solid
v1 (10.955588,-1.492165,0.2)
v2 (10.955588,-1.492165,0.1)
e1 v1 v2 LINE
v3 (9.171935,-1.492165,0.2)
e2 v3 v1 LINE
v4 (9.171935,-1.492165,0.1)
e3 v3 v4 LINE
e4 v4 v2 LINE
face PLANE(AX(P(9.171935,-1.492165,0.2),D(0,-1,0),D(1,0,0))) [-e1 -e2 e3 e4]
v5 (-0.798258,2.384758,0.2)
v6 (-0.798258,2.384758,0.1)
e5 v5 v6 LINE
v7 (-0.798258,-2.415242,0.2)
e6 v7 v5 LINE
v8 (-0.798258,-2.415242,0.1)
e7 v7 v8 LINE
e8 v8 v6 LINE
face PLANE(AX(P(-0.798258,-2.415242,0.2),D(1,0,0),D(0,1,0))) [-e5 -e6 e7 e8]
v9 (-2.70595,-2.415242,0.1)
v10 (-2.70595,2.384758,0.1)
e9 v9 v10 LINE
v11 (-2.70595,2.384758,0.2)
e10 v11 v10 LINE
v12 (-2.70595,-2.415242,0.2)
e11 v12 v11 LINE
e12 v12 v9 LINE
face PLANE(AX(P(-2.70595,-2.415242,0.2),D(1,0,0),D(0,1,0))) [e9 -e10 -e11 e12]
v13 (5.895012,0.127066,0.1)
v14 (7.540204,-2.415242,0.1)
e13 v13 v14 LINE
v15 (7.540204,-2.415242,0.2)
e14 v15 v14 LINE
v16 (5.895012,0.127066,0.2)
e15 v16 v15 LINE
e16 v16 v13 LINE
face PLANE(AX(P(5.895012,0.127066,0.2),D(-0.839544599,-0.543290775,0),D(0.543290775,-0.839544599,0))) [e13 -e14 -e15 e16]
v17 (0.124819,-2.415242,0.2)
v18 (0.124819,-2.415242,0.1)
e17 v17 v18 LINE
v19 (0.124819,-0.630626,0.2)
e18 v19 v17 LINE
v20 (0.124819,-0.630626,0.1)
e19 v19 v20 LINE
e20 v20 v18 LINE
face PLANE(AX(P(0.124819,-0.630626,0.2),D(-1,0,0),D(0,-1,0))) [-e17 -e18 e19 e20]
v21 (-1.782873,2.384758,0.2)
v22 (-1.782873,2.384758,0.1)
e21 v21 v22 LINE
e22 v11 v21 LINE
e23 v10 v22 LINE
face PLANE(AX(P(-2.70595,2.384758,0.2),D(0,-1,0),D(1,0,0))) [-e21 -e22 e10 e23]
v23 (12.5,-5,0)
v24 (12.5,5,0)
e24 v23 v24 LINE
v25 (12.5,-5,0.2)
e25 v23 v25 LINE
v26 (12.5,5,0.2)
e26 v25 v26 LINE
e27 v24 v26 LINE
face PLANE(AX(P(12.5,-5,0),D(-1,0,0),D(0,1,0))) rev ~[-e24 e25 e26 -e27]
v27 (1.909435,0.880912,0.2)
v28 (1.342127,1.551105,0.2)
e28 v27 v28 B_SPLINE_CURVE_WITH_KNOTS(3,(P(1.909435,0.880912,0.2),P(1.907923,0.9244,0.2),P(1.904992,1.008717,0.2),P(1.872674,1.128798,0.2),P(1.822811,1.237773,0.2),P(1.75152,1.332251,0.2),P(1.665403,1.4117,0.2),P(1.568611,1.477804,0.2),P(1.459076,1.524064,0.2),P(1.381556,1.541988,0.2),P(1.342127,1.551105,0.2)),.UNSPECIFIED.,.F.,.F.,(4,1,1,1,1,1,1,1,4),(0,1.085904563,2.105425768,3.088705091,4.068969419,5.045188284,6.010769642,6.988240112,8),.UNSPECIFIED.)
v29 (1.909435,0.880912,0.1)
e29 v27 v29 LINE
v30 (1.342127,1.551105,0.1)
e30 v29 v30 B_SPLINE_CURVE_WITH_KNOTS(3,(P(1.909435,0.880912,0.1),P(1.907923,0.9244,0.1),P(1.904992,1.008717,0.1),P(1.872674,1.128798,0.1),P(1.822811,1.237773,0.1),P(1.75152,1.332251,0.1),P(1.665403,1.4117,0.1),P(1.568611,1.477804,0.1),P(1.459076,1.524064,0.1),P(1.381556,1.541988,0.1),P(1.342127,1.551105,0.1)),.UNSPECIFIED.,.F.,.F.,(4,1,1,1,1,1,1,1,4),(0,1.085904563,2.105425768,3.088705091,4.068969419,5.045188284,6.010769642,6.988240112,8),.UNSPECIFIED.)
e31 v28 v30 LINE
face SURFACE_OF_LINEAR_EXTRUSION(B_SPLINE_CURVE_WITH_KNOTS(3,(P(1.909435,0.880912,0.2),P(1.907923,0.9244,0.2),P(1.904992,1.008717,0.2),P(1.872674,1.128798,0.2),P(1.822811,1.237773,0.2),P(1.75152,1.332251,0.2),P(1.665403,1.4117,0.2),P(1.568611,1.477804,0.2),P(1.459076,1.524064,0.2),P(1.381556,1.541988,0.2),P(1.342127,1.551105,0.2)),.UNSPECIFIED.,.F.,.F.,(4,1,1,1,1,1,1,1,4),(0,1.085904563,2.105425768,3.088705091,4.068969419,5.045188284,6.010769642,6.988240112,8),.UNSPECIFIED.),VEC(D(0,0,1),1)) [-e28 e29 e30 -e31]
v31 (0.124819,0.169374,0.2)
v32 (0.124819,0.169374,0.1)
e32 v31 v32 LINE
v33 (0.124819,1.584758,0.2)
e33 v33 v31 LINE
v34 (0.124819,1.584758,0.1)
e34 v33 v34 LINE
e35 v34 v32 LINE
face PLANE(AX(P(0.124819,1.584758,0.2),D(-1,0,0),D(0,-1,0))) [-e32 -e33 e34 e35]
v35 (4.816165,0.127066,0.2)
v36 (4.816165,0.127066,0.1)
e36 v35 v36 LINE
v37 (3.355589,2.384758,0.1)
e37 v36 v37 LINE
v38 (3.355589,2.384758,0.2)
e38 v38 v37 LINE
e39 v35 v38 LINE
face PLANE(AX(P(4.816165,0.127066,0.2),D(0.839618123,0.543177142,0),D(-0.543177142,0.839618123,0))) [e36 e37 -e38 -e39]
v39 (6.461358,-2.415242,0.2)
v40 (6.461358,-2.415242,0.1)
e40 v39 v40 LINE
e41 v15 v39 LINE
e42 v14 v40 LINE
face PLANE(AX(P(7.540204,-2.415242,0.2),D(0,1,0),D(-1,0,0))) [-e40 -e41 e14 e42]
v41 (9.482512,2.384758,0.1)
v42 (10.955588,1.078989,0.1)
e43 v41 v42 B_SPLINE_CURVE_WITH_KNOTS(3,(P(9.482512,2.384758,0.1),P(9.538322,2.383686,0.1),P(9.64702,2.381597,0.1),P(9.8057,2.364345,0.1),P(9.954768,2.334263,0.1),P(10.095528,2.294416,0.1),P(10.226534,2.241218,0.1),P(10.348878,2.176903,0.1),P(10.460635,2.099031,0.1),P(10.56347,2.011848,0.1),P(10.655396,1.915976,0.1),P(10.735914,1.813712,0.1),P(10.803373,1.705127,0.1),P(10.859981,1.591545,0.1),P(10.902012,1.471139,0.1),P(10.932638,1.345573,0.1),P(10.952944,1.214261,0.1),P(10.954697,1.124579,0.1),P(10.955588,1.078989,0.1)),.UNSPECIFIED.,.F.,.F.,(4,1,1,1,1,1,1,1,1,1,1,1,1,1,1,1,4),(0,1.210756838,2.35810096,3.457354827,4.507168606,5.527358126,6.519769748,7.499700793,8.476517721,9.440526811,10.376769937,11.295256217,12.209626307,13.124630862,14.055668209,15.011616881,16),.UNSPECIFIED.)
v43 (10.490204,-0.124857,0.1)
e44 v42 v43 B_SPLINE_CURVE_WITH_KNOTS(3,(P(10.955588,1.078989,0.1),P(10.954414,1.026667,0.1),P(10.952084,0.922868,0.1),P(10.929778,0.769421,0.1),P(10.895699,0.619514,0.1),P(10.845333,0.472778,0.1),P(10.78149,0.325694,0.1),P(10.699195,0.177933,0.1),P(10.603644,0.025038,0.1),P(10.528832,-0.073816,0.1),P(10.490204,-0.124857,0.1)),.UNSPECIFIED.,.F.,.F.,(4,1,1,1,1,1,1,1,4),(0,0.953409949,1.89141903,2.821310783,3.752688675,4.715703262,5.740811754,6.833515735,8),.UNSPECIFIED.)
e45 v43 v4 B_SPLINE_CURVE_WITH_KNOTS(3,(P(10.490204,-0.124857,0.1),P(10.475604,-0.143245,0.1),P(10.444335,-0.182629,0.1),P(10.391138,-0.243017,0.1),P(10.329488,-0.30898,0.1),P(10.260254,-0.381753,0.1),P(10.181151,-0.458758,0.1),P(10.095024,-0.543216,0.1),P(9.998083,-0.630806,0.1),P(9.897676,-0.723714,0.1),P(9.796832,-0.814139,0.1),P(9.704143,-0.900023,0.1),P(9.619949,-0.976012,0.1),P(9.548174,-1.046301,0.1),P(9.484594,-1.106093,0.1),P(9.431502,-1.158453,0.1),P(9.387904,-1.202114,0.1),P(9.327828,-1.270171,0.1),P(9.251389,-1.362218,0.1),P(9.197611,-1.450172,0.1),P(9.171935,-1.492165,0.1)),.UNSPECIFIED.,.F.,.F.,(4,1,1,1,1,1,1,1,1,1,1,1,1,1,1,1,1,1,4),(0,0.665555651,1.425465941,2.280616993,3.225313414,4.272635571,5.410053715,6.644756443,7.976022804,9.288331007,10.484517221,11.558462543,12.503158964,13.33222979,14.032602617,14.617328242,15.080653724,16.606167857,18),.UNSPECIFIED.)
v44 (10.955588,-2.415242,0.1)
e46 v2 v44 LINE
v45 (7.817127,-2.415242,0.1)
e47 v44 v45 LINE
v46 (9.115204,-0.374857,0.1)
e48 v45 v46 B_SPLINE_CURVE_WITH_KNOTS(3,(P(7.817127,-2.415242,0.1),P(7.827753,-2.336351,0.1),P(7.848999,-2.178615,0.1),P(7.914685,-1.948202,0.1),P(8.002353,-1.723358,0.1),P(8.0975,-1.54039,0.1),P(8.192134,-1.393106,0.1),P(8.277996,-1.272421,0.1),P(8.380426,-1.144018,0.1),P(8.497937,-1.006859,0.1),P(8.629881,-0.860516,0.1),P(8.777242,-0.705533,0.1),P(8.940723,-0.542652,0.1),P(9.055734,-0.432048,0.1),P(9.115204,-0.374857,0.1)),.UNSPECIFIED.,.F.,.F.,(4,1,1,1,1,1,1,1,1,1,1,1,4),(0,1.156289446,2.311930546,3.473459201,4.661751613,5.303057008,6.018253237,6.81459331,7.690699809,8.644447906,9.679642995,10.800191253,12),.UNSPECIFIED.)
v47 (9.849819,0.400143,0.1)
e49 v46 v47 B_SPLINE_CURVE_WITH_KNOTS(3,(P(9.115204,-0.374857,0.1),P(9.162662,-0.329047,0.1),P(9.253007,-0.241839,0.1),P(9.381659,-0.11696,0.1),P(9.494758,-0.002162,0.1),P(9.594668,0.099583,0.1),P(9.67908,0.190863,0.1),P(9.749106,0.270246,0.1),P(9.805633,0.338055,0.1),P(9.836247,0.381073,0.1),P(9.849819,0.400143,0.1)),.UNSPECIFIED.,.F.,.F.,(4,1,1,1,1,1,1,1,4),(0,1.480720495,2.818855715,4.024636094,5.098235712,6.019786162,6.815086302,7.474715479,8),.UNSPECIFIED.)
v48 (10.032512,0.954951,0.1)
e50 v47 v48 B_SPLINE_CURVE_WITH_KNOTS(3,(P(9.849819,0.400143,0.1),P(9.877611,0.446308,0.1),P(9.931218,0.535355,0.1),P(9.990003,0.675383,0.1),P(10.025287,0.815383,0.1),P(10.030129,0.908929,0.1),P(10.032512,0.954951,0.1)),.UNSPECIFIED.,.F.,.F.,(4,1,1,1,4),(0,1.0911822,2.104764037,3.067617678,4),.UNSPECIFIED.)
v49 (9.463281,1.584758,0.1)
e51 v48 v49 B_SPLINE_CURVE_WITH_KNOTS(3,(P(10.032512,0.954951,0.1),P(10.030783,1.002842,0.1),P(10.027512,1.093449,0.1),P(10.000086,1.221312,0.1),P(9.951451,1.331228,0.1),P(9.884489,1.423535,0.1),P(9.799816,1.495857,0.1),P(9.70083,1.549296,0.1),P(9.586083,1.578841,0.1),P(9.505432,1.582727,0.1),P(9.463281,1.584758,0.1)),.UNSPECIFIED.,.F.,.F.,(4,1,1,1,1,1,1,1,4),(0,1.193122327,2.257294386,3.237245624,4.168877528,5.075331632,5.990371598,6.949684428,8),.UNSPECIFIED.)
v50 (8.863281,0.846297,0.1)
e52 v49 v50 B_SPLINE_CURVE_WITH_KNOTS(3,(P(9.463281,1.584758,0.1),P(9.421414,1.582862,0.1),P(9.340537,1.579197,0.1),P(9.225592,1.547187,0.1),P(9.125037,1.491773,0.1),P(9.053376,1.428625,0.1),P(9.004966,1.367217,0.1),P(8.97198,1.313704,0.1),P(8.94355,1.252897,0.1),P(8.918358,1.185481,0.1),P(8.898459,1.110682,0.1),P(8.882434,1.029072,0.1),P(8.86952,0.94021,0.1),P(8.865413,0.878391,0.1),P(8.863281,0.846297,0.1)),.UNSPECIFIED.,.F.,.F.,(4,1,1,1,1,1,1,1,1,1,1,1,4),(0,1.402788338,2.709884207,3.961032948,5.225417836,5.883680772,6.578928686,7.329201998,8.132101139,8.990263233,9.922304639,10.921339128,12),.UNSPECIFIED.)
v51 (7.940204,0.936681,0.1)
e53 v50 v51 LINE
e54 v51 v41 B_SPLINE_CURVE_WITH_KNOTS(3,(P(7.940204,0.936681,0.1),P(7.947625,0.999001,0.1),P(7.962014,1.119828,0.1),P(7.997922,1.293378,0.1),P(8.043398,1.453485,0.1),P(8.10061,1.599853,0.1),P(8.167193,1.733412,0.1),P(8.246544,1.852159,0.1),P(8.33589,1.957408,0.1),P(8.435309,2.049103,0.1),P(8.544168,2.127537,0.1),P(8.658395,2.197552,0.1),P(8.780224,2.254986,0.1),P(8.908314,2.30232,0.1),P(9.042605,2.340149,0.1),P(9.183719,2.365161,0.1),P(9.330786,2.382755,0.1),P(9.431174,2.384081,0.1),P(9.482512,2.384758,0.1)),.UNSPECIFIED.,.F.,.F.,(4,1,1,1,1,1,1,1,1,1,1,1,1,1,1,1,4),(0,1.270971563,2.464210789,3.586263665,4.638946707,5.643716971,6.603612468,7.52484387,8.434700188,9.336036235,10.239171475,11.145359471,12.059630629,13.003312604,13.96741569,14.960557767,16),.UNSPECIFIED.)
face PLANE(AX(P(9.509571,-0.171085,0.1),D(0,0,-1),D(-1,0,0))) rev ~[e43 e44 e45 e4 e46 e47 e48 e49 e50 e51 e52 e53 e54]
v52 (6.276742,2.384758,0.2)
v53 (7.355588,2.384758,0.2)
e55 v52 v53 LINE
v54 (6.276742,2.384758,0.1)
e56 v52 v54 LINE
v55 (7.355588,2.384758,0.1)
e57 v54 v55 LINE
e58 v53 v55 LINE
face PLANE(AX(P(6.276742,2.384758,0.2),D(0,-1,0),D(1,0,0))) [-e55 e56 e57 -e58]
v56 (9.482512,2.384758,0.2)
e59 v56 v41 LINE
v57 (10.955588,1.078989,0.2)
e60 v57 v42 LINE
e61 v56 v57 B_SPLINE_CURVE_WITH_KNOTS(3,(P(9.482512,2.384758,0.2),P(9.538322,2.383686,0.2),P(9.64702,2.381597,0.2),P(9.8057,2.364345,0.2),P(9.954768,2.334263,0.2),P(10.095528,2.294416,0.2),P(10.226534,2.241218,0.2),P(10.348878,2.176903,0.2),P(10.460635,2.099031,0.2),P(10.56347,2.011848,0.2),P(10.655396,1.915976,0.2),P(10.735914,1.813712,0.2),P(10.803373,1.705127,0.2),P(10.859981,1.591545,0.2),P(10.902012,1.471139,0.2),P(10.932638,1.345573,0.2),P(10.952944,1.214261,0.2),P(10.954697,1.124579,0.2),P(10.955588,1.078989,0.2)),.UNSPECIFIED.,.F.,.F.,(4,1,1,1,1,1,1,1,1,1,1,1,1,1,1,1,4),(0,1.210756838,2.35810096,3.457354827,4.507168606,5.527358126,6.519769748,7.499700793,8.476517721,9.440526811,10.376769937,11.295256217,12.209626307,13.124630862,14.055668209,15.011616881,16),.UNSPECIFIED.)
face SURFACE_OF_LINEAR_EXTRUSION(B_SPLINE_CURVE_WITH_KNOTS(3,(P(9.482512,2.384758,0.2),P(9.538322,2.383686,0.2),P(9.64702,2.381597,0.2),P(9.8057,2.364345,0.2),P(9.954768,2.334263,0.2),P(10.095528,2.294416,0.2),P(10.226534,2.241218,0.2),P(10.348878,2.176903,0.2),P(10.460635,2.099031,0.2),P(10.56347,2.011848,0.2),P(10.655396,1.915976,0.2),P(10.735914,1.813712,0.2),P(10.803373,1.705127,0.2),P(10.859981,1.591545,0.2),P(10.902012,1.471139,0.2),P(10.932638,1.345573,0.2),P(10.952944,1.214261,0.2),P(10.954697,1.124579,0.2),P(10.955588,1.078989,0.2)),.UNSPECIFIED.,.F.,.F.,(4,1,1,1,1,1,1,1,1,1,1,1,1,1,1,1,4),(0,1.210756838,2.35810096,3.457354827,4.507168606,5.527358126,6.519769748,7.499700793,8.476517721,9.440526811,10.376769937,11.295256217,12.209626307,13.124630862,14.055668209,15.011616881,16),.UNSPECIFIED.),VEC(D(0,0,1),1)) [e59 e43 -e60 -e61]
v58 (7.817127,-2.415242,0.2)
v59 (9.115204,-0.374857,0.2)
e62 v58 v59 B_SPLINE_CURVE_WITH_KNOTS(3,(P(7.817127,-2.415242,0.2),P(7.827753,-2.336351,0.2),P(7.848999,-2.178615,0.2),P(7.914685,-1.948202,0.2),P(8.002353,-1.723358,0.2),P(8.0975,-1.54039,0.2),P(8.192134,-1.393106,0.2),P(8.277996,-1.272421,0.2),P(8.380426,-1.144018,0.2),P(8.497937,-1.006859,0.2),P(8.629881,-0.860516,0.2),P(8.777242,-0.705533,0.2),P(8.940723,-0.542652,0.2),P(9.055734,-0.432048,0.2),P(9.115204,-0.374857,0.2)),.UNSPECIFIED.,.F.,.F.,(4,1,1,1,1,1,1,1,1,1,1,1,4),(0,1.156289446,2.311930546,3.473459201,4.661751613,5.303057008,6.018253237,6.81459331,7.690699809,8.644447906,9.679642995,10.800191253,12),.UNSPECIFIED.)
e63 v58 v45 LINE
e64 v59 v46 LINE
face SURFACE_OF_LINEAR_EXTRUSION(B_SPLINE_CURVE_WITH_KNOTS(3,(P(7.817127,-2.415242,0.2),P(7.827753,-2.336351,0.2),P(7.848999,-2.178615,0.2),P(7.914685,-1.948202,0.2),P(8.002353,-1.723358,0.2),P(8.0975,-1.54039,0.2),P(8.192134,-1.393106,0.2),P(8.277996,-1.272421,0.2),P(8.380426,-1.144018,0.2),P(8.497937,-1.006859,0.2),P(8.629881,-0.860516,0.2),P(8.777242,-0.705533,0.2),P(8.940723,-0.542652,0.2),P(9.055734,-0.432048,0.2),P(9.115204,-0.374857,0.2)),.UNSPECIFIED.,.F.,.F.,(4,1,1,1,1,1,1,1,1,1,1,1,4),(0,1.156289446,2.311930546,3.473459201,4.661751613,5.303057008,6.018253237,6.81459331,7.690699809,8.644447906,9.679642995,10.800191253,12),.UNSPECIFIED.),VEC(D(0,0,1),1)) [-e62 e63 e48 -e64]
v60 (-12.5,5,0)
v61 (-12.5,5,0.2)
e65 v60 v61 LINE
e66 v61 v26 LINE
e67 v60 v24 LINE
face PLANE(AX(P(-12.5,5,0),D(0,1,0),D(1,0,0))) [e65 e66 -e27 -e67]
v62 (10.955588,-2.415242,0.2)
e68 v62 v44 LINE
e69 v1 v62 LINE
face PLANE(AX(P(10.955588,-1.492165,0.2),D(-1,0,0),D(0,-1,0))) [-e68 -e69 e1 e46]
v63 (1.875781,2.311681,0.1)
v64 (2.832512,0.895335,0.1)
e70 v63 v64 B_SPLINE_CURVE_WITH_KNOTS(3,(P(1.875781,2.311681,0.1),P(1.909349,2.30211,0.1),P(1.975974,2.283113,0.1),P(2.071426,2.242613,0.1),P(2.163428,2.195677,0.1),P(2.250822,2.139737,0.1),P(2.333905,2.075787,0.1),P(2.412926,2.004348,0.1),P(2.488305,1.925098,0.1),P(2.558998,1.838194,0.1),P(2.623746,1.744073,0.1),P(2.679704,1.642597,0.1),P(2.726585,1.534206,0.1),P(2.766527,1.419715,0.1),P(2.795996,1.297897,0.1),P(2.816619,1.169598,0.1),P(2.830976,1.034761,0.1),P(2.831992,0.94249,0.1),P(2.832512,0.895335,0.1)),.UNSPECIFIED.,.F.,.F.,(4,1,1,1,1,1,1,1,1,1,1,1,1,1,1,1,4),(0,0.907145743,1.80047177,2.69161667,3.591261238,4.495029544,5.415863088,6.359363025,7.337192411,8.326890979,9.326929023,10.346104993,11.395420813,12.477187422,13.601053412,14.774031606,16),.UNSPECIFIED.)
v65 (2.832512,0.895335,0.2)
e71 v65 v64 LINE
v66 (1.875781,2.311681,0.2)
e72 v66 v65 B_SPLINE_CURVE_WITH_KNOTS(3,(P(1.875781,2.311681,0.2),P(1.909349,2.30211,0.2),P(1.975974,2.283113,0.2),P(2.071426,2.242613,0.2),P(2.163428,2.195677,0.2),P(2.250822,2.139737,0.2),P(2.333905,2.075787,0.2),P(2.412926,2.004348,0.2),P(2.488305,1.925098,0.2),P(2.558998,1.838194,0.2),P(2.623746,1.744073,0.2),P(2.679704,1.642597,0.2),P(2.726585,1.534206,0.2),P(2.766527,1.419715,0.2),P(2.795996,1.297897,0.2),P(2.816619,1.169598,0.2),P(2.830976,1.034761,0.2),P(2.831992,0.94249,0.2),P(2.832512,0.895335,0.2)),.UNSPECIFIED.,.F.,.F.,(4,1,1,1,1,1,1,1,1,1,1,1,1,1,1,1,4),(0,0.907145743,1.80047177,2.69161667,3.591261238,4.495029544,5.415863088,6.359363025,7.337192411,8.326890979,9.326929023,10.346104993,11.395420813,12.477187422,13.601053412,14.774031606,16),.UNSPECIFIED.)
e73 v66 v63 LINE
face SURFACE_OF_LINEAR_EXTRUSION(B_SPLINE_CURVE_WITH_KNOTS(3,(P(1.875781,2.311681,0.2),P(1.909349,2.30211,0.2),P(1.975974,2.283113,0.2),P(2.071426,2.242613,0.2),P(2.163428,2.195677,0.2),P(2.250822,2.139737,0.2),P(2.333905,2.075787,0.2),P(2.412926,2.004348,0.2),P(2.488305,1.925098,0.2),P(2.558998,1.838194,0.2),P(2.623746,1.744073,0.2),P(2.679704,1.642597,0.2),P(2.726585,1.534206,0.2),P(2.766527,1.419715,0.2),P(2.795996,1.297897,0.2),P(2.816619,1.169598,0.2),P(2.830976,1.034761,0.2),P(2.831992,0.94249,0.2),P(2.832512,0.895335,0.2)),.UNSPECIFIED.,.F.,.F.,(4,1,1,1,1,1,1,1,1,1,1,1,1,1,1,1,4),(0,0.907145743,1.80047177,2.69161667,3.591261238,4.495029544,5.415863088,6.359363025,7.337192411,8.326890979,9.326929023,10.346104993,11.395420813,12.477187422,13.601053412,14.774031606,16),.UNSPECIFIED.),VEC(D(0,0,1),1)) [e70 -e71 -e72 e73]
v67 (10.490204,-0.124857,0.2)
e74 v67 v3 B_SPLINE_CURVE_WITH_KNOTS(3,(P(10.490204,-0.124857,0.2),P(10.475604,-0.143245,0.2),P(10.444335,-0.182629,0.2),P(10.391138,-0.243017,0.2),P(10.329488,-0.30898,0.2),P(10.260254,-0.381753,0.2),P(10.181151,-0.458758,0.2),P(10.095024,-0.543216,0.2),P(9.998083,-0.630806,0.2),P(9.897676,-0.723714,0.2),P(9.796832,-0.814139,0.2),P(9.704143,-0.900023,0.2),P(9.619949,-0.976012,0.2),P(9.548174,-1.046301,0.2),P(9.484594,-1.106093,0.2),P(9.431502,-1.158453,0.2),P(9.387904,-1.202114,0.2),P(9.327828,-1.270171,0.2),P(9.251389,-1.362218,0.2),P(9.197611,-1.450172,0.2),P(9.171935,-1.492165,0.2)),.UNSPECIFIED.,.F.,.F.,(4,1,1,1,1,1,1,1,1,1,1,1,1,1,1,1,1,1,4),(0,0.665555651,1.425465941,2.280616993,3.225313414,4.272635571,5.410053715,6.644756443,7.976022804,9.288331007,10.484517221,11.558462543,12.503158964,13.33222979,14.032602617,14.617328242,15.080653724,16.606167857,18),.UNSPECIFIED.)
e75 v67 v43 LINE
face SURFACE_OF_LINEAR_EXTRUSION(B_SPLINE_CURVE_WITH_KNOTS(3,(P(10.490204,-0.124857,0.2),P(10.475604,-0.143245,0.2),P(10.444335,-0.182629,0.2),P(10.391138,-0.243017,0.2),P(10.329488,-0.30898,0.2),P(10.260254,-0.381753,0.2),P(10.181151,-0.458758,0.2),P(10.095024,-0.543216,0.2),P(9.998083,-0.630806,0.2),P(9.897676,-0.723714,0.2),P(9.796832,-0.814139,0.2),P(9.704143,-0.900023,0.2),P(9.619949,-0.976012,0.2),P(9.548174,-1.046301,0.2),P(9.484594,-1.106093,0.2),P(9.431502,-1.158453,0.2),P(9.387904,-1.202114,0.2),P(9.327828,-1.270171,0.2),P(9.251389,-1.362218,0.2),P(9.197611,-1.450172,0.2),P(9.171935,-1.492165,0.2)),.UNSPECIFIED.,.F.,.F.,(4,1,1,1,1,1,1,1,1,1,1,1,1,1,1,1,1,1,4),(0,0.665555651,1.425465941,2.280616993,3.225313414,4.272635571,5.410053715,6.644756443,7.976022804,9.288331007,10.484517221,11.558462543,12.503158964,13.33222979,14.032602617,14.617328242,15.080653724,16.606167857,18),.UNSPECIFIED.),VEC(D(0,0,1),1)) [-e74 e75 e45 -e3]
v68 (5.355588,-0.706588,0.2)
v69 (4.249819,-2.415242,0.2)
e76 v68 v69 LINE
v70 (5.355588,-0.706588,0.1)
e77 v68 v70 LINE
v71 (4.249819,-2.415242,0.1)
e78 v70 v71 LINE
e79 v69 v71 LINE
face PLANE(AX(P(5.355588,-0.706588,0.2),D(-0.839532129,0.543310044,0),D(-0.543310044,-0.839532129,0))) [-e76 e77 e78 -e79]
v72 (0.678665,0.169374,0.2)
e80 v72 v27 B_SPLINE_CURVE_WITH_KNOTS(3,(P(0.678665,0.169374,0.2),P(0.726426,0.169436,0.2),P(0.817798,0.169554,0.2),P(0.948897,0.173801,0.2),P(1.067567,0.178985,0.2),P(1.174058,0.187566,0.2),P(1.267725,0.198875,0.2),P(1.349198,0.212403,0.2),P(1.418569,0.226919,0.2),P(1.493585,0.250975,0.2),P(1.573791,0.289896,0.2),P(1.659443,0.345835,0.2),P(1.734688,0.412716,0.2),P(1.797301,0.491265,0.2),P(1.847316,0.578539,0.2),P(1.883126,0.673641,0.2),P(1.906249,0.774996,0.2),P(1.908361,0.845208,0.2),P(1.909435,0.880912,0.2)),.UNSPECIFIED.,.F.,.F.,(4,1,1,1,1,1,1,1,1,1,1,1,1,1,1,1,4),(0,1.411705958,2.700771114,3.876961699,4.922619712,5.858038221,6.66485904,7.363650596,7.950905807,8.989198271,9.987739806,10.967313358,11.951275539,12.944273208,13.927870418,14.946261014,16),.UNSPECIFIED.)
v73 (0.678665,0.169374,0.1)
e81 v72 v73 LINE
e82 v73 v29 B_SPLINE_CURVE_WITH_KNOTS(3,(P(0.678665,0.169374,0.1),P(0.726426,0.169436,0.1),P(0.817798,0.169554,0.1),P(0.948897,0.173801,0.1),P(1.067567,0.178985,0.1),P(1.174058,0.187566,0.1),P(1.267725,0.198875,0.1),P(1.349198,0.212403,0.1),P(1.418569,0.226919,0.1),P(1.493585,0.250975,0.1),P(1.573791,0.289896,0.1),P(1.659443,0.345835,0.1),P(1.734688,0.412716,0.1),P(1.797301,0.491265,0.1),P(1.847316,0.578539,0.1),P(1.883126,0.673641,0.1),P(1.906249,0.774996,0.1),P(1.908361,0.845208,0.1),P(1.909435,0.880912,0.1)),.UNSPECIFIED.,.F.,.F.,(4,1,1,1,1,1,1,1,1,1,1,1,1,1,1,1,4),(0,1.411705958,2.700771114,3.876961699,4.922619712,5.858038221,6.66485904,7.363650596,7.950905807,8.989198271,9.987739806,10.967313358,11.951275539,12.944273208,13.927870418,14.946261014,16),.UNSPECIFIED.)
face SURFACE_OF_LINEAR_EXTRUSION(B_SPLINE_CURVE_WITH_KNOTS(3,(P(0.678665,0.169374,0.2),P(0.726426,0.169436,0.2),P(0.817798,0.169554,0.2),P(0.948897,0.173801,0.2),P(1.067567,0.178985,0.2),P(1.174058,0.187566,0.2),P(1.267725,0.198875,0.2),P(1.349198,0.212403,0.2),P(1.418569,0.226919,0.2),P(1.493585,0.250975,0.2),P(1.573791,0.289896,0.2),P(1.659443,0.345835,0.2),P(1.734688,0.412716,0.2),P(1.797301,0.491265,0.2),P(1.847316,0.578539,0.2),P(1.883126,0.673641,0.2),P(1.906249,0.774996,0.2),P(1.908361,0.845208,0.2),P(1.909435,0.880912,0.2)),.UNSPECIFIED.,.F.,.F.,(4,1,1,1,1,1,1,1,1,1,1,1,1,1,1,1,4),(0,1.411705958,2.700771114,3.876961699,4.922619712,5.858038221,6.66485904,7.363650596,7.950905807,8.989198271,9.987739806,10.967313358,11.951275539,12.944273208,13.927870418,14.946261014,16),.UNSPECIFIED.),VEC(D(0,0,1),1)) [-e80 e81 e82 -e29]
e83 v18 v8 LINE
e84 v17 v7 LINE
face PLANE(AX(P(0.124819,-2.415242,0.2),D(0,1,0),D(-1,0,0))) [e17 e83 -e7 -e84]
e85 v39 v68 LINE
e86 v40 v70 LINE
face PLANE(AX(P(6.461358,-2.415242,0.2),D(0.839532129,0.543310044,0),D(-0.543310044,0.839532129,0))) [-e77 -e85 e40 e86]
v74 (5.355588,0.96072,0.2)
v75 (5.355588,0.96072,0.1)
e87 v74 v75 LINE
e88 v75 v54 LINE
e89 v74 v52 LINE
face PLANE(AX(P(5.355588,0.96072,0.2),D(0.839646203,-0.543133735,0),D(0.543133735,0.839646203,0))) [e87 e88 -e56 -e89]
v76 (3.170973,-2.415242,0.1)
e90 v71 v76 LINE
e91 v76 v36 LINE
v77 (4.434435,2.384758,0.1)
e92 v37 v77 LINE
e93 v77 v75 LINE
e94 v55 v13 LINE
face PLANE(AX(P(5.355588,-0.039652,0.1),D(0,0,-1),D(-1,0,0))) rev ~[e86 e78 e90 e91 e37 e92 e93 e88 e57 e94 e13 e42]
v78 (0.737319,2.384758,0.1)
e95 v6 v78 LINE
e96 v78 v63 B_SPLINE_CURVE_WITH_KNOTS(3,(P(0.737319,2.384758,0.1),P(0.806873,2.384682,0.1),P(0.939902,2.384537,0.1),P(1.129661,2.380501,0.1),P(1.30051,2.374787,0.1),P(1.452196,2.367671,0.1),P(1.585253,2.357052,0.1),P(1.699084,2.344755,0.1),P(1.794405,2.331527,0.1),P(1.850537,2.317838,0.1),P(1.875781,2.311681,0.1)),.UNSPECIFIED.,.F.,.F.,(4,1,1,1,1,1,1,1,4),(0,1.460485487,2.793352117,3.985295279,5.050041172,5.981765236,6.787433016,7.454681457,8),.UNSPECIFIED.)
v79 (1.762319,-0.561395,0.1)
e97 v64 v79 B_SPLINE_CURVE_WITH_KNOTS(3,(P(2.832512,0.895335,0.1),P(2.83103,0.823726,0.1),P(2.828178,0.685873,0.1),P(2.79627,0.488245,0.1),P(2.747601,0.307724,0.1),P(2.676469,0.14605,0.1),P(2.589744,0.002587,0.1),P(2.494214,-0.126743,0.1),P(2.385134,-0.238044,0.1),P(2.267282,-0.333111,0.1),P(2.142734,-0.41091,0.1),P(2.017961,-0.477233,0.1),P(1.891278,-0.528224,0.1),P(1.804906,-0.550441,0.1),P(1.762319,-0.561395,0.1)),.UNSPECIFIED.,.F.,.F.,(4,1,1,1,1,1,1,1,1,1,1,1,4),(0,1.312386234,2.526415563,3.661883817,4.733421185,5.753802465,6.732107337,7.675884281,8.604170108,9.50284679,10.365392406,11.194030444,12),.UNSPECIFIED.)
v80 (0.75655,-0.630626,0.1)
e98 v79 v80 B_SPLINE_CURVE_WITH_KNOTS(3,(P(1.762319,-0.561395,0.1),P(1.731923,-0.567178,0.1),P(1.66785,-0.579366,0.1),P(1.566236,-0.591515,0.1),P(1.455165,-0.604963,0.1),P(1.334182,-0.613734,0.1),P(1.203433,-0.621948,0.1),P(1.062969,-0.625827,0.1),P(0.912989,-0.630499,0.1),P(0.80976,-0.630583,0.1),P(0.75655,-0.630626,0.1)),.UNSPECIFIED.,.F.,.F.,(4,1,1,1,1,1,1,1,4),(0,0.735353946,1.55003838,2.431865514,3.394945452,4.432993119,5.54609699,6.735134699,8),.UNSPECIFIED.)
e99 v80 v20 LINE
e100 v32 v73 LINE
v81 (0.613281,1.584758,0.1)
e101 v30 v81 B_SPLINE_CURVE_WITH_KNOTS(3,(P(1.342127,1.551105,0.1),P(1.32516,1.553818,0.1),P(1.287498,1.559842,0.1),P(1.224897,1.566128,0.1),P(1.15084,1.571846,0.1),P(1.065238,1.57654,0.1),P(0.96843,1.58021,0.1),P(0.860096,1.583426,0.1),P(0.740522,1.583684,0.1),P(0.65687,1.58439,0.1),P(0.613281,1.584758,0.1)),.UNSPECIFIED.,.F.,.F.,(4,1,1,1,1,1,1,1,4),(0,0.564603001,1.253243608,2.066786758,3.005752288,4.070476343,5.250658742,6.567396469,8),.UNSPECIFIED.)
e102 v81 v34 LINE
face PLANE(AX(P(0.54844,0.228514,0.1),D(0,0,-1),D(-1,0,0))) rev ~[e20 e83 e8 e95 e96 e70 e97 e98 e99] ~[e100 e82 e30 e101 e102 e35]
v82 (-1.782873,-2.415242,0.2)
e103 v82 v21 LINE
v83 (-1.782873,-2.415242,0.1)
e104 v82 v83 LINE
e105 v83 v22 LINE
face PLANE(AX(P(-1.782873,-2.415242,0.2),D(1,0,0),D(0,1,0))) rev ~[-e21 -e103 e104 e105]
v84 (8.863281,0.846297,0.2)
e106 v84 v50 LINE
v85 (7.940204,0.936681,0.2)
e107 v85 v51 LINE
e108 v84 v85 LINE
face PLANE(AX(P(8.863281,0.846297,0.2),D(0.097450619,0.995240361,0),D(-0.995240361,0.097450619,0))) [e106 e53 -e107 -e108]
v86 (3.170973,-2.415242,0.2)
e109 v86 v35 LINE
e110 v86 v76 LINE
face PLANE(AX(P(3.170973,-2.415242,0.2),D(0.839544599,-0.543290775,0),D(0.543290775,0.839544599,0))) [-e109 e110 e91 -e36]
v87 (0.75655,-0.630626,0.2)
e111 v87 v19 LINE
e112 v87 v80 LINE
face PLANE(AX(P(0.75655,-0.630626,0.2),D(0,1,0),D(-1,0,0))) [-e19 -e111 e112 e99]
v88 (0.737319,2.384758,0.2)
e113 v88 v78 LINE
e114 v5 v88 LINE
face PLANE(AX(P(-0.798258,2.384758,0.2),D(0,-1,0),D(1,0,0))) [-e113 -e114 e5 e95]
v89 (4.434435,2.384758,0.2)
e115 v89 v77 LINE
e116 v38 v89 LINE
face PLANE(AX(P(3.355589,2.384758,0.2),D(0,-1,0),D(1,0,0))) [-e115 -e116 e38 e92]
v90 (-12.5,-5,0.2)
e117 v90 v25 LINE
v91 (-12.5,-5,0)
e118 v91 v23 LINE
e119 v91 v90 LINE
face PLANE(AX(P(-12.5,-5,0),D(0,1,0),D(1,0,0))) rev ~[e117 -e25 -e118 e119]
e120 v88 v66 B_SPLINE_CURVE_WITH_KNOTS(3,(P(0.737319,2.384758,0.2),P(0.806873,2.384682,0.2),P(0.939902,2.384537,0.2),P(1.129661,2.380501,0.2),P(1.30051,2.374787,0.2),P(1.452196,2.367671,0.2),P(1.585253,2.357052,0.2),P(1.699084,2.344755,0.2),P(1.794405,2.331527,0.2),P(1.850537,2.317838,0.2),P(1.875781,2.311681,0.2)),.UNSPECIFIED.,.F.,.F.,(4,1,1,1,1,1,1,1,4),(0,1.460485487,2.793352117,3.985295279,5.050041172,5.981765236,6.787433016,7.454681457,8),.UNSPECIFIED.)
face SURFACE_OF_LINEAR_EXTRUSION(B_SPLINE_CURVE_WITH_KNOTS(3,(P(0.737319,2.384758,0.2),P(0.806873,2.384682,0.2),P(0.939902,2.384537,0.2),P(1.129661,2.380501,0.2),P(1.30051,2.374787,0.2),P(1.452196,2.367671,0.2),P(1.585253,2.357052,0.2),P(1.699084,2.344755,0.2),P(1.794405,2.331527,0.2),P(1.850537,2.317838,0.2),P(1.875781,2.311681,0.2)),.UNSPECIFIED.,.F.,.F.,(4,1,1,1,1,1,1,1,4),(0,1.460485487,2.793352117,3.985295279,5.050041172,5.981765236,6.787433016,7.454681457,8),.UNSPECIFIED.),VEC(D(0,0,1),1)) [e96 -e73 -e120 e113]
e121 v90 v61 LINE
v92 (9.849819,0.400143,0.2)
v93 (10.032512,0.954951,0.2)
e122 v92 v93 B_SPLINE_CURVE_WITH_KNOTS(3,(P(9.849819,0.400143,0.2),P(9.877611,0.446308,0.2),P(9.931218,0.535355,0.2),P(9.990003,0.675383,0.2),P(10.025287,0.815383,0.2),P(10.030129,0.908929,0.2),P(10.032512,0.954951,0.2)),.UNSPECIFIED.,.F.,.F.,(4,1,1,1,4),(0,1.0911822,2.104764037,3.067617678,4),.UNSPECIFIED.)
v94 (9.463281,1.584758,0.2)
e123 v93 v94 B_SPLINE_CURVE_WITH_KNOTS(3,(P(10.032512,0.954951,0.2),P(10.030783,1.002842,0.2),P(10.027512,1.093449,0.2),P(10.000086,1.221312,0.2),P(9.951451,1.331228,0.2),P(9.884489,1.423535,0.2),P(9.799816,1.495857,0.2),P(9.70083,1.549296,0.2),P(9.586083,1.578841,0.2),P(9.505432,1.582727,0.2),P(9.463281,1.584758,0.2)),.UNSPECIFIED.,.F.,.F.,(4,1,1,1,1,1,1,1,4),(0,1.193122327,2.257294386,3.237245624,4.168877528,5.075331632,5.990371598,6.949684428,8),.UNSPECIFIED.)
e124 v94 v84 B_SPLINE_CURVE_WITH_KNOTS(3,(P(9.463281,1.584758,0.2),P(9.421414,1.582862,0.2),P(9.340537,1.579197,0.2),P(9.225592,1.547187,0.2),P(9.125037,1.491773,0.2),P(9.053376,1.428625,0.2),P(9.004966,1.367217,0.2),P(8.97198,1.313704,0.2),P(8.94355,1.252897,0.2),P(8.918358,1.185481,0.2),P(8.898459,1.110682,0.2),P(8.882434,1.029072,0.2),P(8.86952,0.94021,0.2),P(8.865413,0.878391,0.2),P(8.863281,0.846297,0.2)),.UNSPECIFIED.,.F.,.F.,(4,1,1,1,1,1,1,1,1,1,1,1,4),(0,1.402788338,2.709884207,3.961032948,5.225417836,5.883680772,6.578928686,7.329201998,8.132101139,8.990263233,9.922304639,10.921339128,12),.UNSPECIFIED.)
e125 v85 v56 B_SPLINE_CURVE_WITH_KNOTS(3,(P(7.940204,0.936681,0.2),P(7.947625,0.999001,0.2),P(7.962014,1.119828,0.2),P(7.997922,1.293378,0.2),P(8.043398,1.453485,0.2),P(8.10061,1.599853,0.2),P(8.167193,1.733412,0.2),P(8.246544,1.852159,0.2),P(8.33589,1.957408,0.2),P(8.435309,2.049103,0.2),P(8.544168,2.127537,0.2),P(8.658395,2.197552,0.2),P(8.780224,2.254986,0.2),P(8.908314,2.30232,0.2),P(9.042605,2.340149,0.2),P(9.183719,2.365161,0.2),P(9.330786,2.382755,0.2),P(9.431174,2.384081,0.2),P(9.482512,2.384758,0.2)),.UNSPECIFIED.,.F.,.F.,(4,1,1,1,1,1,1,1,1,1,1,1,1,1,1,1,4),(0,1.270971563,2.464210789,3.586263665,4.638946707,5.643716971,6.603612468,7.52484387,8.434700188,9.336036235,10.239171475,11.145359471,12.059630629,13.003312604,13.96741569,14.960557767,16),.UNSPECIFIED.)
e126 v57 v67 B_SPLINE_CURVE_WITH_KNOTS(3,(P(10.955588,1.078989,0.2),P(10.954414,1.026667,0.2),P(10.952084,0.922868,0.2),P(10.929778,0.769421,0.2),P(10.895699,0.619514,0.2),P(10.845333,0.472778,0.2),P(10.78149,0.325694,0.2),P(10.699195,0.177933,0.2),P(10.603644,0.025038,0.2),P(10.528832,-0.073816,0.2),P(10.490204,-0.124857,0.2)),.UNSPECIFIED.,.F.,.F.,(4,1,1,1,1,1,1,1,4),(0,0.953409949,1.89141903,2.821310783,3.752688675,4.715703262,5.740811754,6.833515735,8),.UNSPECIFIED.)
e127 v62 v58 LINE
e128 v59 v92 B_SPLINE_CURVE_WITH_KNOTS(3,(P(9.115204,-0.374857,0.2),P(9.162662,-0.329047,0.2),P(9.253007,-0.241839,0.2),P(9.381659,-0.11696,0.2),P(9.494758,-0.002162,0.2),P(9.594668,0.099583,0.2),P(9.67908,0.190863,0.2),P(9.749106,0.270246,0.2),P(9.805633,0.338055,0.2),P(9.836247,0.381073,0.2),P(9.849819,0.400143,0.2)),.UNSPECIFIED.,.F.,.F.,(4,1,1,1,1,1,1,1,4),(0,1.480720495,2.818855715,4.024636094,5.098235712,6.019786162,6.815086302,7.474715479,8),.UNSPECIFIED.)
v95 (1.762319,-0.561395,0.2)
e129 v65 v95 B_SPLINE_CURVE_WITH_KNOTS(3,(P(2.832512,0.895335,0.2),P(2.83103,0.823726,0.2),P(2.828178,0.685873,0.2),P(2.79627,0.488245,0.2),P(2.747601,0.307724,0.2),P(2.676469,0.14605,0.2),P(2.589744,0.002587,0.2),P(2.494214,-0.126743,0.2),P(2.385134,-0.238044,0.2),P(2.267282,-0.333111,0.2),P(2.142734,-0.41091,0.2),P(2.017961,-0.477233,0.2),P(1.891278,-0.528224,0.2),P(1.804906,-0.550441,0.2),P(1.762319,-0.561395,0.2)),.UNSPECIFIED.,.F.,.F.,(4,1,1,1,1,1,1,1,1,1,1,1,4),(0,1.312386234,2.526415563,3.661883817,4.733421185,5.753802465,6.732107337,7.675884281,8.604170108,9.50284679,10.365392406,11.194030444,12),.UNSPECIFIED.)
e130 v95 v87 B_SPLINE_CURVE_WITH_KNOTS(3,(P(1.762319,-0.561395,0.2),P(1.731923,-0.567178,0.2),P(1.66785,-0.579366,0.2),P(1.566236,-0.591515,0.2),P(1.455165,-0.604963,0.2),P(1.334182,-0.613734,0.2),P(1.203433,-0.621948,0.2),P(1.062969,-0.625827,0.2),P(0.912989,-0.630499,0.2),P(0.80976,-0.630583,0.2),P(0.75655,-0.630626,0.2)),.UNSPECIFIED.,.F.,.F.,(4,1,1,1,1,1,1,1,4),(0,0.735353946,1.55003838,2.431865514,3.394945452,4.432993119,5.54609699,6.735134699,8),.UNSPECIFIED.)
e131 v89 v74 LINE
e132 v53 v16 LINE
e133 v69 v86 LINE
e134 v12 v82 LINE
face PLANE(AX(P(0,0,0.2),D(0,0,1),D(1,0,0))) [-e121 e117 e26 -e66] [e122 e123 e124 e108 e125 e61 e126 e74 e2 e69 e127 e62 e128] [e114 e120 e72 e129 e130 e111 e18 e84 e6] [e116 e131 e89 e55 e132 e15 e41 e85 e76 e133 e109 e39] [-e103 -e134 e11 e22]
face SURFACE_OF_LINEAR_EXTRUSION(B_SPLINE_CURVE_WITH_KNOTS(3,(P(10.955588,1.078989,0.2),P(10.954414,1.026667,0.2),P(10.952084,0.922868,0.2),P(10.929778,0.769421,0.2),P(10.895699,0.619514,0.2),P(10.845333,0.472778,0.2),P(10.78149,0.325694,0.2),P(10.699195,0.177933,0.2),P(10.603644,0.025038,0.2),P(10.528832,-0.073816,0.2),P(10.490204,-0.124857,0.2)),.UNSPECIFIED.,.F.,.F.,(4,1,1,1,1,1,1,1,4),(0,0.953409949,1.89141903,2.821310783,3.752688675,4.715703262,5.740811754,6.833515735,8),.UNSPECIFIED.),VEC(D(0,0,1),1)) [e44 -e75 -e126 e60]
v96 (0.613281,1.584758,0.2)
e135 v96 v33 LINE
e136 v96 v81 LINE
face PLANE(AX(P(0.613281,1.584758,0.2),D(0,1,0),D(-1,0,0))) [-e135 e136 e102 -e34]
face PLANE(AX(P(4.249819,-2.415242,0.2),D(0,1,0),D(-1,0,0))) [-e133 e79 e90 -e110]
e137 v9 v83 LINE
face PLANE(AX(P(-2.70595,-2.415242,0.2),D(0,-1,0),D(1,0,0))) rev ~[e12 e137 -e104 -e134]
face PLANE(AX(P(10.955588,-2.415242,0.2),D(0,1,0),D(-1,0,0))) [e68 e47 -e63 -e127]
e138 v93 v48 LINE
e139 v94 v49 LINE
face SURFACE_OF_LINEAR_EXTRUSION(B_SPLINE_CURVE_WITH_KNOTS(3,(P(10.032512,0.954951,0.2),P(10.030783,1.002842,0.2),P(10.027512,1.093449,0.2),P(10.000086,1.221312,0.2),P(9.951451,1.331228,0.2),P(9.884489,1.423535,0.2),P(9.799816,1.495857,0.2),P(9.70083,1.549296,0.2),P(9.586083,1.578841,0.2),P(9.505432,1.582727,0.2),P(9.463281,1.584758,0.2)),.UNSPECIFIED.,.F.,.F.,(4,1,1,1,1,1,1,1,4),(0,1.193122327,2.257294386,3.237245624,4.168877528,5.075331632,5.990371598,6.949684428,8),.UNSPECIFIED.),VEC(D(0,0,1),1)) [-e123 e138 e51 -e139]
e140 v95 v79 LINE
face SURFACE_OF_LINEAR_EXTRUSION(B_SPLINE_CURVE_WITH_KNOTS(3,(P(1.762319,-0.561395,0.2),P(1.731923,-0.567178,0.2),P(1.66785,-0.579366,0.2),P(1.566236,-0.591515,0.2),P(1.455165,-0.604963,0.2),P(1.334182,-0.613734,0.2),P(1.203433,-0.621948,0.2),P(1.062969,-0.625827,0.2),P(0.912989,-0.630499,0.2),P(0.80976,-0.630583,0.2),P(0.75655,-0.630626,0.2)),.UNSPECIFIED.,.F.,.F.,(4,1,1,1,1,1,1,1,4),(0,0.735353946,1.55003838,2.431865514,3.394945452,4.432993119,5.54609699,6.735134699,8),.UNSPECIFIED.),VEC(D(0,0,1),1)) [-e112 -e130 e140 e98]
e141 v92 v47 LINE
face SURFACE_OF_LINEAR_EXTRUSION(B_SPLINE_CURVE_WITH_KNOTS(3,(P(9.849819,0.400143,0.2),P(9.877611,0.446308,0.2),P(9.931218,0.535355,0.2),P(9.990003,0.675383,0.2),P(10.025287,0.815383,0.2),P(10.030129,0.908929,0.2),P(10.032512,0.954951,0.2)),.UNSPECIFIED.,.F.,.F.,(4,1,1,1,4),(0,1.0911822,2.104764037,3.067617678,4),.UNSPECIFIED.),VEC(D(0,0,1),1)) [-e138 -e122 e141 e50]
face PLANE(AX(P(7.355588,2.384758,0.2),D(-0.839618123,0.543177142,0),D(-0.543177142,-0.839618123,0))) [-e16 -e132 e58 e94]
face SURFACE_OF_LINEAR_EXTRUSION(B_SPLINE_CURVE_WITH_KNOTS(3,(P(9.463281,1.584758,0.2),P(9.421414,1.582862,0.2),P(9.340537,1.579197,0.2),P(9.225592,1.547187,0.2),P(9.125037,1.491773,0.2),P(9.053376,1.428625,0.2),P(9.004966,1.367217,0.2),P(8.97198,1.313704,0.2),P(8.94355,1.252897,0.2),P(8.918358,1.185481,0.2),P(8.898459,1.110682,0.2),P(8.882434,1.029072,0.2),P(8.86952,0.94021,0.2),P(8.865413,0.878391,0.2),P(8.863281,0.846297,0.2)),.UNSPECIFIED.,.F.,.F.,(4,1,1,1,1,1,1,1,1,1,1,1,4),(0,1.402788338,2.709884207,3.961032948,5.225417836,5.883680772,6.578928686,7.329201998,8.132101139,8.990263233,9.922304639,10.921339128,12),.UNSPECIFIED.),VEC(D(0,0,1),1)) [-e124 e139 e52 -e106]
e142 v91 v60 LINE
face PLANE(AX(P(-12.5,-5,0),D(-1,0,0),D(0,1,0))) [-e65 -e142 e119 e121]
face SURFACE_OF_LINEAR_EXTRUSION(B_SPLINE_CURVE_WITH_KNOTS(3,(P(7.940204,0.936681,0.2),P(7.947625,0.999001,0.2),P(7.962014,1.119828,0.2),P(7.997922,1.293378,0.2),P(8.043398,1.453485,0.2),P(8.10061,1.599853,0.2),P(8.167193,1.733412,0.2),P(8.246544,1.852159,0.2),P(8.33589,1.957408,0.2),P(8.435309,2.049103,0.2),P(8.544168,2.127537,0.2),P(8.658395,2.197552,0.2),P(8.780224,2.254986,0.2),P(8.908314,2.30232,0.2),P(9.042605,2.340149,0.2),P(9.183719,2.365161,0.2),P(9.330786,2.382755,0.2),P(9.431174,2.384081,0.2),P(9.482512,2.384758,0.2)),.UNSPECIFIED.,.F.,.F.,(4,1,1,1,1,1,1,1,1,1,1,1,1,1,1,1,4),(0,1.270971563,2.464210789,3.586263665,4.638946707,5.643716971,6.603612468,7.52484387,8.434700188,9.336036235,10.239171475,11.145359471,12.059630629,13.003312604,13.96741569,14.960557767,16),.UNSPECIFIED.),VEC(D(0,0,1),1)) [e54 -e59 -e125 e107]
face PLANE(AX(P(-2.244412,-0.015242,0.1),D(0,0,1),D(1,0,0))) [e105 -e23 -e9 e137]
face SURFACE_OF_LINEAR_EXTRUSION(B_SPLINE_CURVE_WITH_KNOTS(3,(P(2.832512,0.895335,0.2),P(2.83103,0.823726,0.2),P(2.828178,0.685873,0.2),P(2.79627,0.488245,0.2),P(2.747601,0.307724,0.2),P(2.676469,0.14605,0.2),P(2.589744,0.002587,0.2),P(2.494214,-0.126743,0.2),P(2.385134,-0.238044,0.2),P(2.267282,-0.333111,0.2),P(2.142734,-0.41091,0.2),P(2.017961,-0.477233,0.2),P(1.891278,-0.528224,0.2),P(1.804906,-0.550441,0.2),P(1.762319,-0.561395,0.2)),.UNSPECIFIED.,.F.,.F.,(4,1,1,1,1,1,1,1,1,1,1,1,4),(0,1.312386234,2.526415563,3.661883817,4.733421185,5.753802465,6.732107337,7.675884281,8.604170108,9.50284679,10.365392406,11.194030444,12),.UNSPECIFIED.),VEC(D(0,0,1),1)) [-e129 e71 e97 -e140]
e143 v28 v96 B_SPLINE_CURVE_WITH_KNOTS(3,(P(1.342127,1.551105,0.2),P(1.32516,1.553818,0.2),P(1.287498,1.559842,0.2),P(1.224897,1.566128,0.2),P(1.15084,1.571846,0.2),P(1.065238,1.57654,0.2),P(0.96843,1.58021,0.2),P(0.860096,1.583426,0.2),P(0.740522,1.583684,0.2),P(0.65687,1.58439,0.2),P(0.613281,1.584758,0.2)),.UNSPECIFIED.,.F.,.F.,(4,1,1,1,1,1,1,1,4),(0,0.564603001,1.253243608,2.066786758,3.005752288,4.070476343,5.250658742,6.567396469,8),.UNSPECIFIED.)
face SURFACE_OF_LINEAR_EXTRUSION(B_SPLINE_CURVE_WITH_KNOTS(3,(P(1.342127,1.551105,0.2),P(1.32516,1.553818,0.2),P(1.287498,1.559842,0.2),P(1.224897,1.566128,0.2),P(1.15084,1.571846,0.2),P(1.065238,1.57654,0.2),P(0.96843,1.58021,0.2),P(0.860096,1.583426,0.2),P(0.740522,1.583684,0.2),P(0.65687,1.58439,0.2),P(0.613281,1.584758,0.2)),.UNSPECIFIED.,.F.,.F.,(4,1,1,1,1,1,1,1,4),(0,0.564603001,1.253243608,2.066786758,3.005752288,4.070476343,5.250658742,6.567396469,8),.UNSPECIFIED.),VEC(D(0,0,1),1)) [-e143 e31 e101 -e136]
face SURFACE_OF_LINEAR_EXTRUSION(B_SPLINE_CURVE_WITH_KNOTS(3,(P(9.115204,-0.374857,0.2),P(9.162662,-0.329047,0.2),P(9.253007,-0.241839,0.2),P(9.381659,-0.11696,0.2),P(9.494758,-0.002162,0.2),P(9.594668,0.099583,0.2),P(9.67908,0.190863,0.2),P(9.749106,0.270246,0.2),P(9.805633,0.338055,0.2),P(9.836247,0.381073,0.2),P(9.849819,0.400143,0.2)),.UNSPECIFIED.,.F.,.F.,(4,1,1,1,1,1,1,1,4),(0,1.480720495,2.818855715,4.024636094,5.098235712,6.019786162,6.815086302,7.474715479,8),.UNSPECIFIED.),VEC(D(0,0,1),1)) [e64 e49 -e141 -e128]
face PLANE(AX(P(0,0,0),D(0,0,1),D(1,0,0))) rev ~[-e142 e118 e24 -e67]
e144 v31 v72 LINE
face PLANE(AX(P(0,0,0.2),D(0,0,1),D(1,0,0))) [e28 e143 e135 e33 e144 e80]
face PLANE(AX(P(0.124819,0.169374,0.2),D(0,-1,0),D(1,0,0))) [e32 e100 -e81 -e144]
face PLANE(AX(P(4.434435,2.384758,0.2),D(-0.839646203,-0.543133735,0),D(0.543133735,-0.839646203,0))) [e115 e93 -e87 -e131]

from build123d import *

# Parameters (mm, degrees)
SKETCH1_W           = 25
SKETCH1_H           = 10
BOSS_EXTRUDE1_DEPTH = 0.2
SKETCH2_W           = 0.923076923
SKETCH2_H           = 4.8
CUT_EXTRUDE1_DEPTH  = 0.1


with BuildPart() as part:
    # Sketch1 → Boss-Extrude1 (new body)
    with BuildSketch(Plane.XY):
        Rectangle(SKETCH1_W, SKETCH1_H)
    extrude(amount=BOSS_EXTRUDE1_DEPTH)

    # Sketch2 → Cut-Extrude1 (cut)
    # profile 1 of 4: a face of its own
    with BuildSketch(Plane.XY.offset(0.2)):
        with Locations((-2.244411501, -0.015241632)):
            Rectangle(SKETCH2_W, SKETCH2_H)
    # profile 2 of 4: a face of its own
    with BuildSketch(Plane.XY.offset(0.2)):
        with BuildLine():
            Line((-0.798257654, -2.415241632), (-0.798257654, 2.384758368))
            Line((-0.798257654, 2.384758368), (0.737319269, 2.384758368))
            add(Edge.make_bspline(
                [(0.737319269, 2.384758368), (0.806872824, 2.384682412), (0.939902268, 2.384537138), (1.129660722, 2.380500805), (1.300509782, 2.374786932), (1.452195879, 2.367670544), (1.585252756, 2.357051526), (1.699083537, 2.344754864), (1.794405005, 2.331526919), (1.850536994, 2.317837764), (1.875780807, 2.311681445)],
                knots=[0, 0, 0, 0, 1.460485487, 2.793352117, 3.985295279, 5.050041172, 5.981765236, 6.787433016, 7.454681457, 8, 8, 8, 8], degree=3))
            add(Edge.make_bspline(
                [(1.875780807, 2.311681445), (1.90934894, 2.302109877), (1.975973819, 2.283112556), (2.071426495, 2.242613286), (2.163427759, 2.195676794), (2.250821715, 2.139736978), (2.333905442, 2.075786969), (2.412925902, 2.004348288), (2.488304501, 1.925098444), (2.558998473, 1.838193992), (2.623745835, 1.744073149), (2.679703823, 1.642596759), (2.726584917, 1.534205891), (2.76652683, 1.419715089), (2.795996164, 1.297896825), (2.81661934, 1.169597507), (2.830975644, 1.034761019), (2.831992115, 0.942489924), (2.832511577, 0.895335291)],
                knots=[0, 0, 0, 0, 0.907145743, 1.80047177, 2.69161667, 3.591261238, 4.495029544, 5.415863088, 6.359363025, 7.337192411, 8.326890979, 9.326929023, 10.346104993, 11.395420813, 12.477187422, 13.601053412, 14.774031606, 16, 16, 16, 16], degree=3))
            add(Edge.make_bspline(
                [(2.832511577, 0.895335291), (2.831030074, 0.82372562), (2.828178101, 0.68587307), (2.796269582, 0.488244732), (2.747601242, 0.307723985), (2.676468945, 0.146049619), (2.589743899, 0.002587197), (2.494214475, -0.126743499), (2.385133912, -0.238044311), (2.267281986, -0.333111429), (2.142734039, -0.410910414), (2.017960635, -0.477232945), (1.891278139, -0.528223825), (1.804906295, -0.550440962), (1.762319269, -0.561395478)],
                knots=[0, 0, 0, 0, 1.312386234, 2.526415563, 3.661883817, 4.733421185, 5.753802465, 6.732107337, 7.675884281, 8.604170108, 9.50284679, 10.365392406, 11.194030444, 12, 12, 12, 12], degree=3))
            add(Edge.make_bspline(
                [(1.762319269, -0.561395478), (1.731922738, -0.567177613), (1.667850478, -0.579365662), (1.566235707, -0.591514929), (1.455165255, -0.604962844), (1.334182281, -0.613734329), (1.203433144, -0.621948457), (1.062968615, -0.625826618), (0.912989431, -0.630499015), (0.809759796, -0.630582972), (0.756550038, -0.630626247)],
                knots=[0, 0, 0, 0, 0.735353946, 1.55003838, 2.431865514, 3.394945452, 4.432993119, 5.54609699, 6.735134699, 8, 8, 8, 8], degree=3))
            Line((0.756550038, -0.630626247), (0.124819269, -0.630626247))
            Line((0.124819269, -0.630626247), (0.124819269, -2.415241632))
            Line((0.124819269, -2.415241632), (-0.798257654, -2.415241632))
        make_face()
        with BuildLine():
            Line((0.124819269, 1.584758368), (0.124819269, 0.169373753))
            Line((0.124819269, 0.169373753), (0.678665423, 0.169373753))
            add(Edge.make_bspline(
                [(0.678665423, 0.169373753), (0.726426028, 0.169435598), (0.817798074, 0.169553918), (0.948896691, 0.173800879), (1.067567284, 0.178985083), (1.174057811, 0.187566001), (1.267725465, 0.198875446), (1.349197518, 0.212402966), (1.418568922, 0.226919409), (1.493584651, 0.25097548), (1.573791463, 0.289896011), (1.659442913, 0.345834589), (1.73468761, 0.412715757), (1.797301172, 0.491265373), (1.847315545, 0.578538546), (1.883125873, 0.673640874), (1.906248568, 0.774996178), (1.908360615, 0.845207624), (1.909434654, 0.880912214)],
                knots=[0, 0, 0, 0, 1.411705958, 2.700771114, 3.876961699, 4.922619712, 5.858038221, 6.66485904, 7.363650596, 7.950905807, 8.989198271, 9.987739806, 10.967313358, 11.951275539, 12.944273208, 13.927870418, 14.946261014, 16, 16, 16, 16], degree=3))
            add(Edge.make_bspline(
                [(1.909434654, 0.880912214), (1.907923062, 0.924399848), (1.904992286, 1.008716635), (1.872674008, 1.128797813), (1.822810598, 1.237772937), (1.751520078, 1.3322513), (1.665402808, 1.411699834), (1.56861059, 1.477803839), (1.459076384, 1.524063925), (1.381555525, 1.541988001), (1.342126961, 1.551104522)],
                knots=[0, 0, 0, 0, 1.085904563, 2.105425768, 3.088705091, 4.068969419, 5.045188284, 6.010769642, 6.988240112, 8, 8, 8, 8], degree=3))
            add(Edge.make_bspline(
                [(1.342126961, 1.551104522), (1.325159949, 1.553818257), (1.287498444, 1.559841908), (1.224897357, 1.566128336), (1.150840262, 1.571845837), (1.065237889, 1.576540076), (0.968429546, 1.580209883), (0.860095914, 1.58342554), (0.74052231, 1.583683875), (0.656869768, 1.58439028), (0.613280807, 1.584758368)],
                knots=[0, 0, 0, 0, 0.564603001, 1.253243608, 2.066786758, 3.005752288, 4.070476343, 5.250658742, 6.567396469, 8, 8, 8, 8], degree=3))
            Line((0.613280807, 1.584758368), (0.124819269, 1.584758368))
        make_face(mode=Mode.SUBTRACT)
    # profile 3 of 4: a face of its own
    with BuildSketch(Plane.XY.offset(0.2)):
        Polygon((3.170973115, -2.415241632), (4.816165423, 0.12706606), (3.3555885, 2.384758368), (4.434434654, 2.384758368), (5.3555885, 0.960719906), (6.276742346, 2.384758368), (7.3555885, 2.384758368), (5.895011577, 0.12706606), (7.540203884, -2.415241632), (6.46135773, -2.415241632), (5.3555885, -0.706587786), (4.249819269, -2.415241632), align=None)
    # profile 4 of 4: a face of its own
    with BuildSketch(Plane.XY.offset(0.2)):
        with BuildLine():
            Line((10.9555885, -1.492164709), (10.9555885, -2.415241632))
            Line((10.9555885, -2.415241632), (7.817126961, -2.415241632))
            add(Edge.make_bspline(
                [(7.817126961, -2.415241632), (7.827753065, -2.336351316), (7.848999314, -2.178614919), (7.91468512, -1.948201744), (8.002353171, -1.723357854), (8.097500189, -1.540389503), (8.192134438, -1.393106276), (8.277996096, -1.272421263), (8.380425902, -1.144017588), (8.497937489, -1.006858679), (8.629881438, -0.86051578), (8.777242138, -0.705532962), (8.940722521, -0.542652172), (9.055733882, -0.432048101), (9.115203884, -0.374857017)],
                knots=[0, 0, 0, 0, 1.156289446, 2.311930546, 3.473459201, 4.661751613, 5.303057008, 6.018253237, 6.81459331, 7.690699809, 8.644447906, 9.679642995, 10.800191253, 12, 12, 12, 12], degree=3))
            add(Edge.make_bspline(
                [(9.115203884, -0.374857017), (9.162661627, -0.329047303), (9.25300719, -0.241839099), (9.381659449, -0.116960486), (9.49475804, -0.002161545), (9.594667701, 0.099582791), (9.679080375, 0.190863191), (9.749106435, 0.27024611), (9.805632752, 0.33805482), (9.836247454, 0.381072708), (9.849819269, 0.400142983)],
                knots=[0, 0, 0, 0, 1.480720495, 2.818855715, 4.024636094, 5.098235712, 6.019786162, 6.815086302, 7.474715479, 8, 8, 8, 8], degree=3))
            add(Edge.make_bspline(
                [(9.849819269, 0.400142983), (9.877611033, 0.446308072), (9.931218126, 0.53535518), (9.99000275, 0.675383368), (10.025287473, 0.815382631), (10.030129492, 0.908929337), (10.032511577, 0.954950676)],
                knots=[0, 0, 0, 0, 1.0911822, 2.104764037, 3.067617678, 4, 4, 4, 4], degree=3))
            add(Edge.make_bspline(
                [(10.032511577, 0.954950676), (10.030782777, 1.002842066), (10.027512022, 1.09344884), (10.000086181, 1.221311753), (9.951450902, 1.331228041), (9.884489072, 1.423535093), (9.799815705, 1.495857314), (9.700830076, 1.549296416), (9.586083195, 1.578841274), (9.505432318, 1.582727345), (9.463280807, 1.584758368)],
                knots=[0, 0, 0, 0, 1.193122327, 2.257294386, 3.237245624, 4.168877528, 5.075331632, 5.990371598, 6.949684428, 8, 8, 8, 8], degree=3))
            add(Edge.make_bspline(
                [(9.463280807, 1.584758368), (9.421414069, 1.582861545), (9.34053657, 1.579197291), (9.225592095, 1.547186877), (9.125036894, 1.491773483), (9.05337591, 1.428624575), (9.004965516, 1.367216849), (8.971980362, 1.31370406), (8.943549735, 1.252897122), (8.918357827, 1.185480619), (8.898459068, 1.110682223), (8.882433843, 1.0290716), (8.86951983, 0.94020957), (8.865412946, 0.878390798), (8.863280807, 0.846296829)],
                knots=[0, 0, 0, 0, 1.402788338, 2.709884207, 3.961032948, 5.225417836, 5.883680772, 6.578928686, 7.329201998, 8.132101139, 8.990263233, 9.922304639, 10.921339128, 12, 12, 12, 12], degree=3))
            Line((8.863280807, 0.846296829), (7.940203884, 0.936681445))
            add(Edge.make_bspline(
                [(7.940203884, 0.936681445), (7.94762528, 0.999000772), (7.96201418, 1.11982799), (7.997921921, 1.293377536), (8.043397745, 1.453484825), (8.100609637, 1.599852729), (8.167192961, 1.733412005), (8.24654402, 1.852158512), (8.335890203, 1.957407626), (8.435308726, 2.049103332), (8.544167554, 2.127537337), (8.658395361, 2.197551722), (8.780224478, 2.254985774), (8.908313561, 2.302320063), (9.042604726, 2.340149248), (9.183719088, 2.365161392), (9.33078574, 2.38275503), (9.431174051, 2.384080524), (9.482511577, 2.384758368)],
                knots=[0, 0, 0, 0, 1.270971563, 2.464210789, 3.586263665, 4.638946707, 5.643716971, 6.603612468, 7.52484387, 8.434700188, 9.336036235, 10.239171475, 11.145359471, 12.059630629, 13.003312604, 13.96741569, 14.960557767, 16, 16, 16, 16], degree=3))
            add(Edge.make_bspline(
                [(9.482511577, 2.384758368), (9.5383221, 2.383685719), (9.647020101, 2.3815966), (9.805699887, 2.364344637), (9.954768144, 2.334263341), (10.095528133, 2.294416407), (10.226534323, 2.241217837), (10.348878384, 2.176902977), (10.460634835, 2.09903095), (10.563469558, 2.011848446), (10.655395572, 1.915975961), (10.735914442, 1.813711747), (10.803372887, 1.70512705), (10.859980881, 1.5915454), (10.902011935, 1.471139101), (10.932637588, 1.345573044), (10.95294363, 1.214261436), (10.954697126, 1.124578586), (10.9555885, 1.078989137)],
                knots=[0, 0, 0, 0, 1.210756838, 2.35810096, 3.457354827, 4.507168606, 5.527358126, 6.519769748, 7.499700793, 8.476517721, 9.440526811, 10.376769937, 11.295256217, 12.209626307, 13.124630862, 14.055668209, 15.011616881, 16, 16, 16, 16], degree=3))
            add(Edge.make_bspline(
                [(10.9555885, 1.078989137), (10.954414127, 1.026666934), (10.952084351, 0.922867713), (10.929778476, 0.769421454), (10.895699443, 0.619513646), (10.845333315, 0.472777928), (10.781490337, 0.325694452), (10.699195208, 0.177933075), (10.60364434, 0.025037576), (10.528831776, -0.073816036), (10.490203884, -0.124857017)],
                knots=[0, 0, 0, 0, 0.953409949, 1.89141903, 2.821310783, 3.752688675, 4.715703262, 5.740811754, 6.833515735, 8, 8, 8, 8], degree=3))
            add(Edge.make_bspline(
                [(10.490203884, -0.124857017), (10.475604237, -0.143245315), (10.444335177, -0.182628789), (10.391138289, -0.243017256), (10.329487671, -0.308980498), (10.260254111, -0.381753196), (10.181150689, -0.458758268), (10.09502355, -0.543216008), (9.99808285, -0.630806122), (9.897675776, -0.723713556), (9.796832264, -0.814139056), (9.704142538, -0.900023233), (9.619949425, -0.976012284), (9.548173955, -1.046301153), (9.484594315, -1.106092675), (9.431502124, -1.15845289), (9.387903903, -1.2021142), (9.327828359, -1.270171105), (9.251389048, -1.362218097), (9.197610867, -1.450171602), (9.171934654, -1.492164709)],
                knots=[0, 0, 0, 0, 0.665555651, 1.425465941, 2.280616993, 3.225313414, 4.272635571, 5.410053715, 6.644756443, 7.976022804, 9.288331007, 10.484517221, 11.558462543, 12.503158964, 13.33222979, 14.032602617, 14.617328242, 15.080653724, 16.606167857, 18, 18, 18, 18], degree=3))
            Line((9.171934654, -1.492164709), (10.9555885, -1.492164709))
        make_face()
    extrude(amount=-CUT_EXTRUDE1_DEPTH, mode=Mode.SUBTRACT)


solid = part.part
